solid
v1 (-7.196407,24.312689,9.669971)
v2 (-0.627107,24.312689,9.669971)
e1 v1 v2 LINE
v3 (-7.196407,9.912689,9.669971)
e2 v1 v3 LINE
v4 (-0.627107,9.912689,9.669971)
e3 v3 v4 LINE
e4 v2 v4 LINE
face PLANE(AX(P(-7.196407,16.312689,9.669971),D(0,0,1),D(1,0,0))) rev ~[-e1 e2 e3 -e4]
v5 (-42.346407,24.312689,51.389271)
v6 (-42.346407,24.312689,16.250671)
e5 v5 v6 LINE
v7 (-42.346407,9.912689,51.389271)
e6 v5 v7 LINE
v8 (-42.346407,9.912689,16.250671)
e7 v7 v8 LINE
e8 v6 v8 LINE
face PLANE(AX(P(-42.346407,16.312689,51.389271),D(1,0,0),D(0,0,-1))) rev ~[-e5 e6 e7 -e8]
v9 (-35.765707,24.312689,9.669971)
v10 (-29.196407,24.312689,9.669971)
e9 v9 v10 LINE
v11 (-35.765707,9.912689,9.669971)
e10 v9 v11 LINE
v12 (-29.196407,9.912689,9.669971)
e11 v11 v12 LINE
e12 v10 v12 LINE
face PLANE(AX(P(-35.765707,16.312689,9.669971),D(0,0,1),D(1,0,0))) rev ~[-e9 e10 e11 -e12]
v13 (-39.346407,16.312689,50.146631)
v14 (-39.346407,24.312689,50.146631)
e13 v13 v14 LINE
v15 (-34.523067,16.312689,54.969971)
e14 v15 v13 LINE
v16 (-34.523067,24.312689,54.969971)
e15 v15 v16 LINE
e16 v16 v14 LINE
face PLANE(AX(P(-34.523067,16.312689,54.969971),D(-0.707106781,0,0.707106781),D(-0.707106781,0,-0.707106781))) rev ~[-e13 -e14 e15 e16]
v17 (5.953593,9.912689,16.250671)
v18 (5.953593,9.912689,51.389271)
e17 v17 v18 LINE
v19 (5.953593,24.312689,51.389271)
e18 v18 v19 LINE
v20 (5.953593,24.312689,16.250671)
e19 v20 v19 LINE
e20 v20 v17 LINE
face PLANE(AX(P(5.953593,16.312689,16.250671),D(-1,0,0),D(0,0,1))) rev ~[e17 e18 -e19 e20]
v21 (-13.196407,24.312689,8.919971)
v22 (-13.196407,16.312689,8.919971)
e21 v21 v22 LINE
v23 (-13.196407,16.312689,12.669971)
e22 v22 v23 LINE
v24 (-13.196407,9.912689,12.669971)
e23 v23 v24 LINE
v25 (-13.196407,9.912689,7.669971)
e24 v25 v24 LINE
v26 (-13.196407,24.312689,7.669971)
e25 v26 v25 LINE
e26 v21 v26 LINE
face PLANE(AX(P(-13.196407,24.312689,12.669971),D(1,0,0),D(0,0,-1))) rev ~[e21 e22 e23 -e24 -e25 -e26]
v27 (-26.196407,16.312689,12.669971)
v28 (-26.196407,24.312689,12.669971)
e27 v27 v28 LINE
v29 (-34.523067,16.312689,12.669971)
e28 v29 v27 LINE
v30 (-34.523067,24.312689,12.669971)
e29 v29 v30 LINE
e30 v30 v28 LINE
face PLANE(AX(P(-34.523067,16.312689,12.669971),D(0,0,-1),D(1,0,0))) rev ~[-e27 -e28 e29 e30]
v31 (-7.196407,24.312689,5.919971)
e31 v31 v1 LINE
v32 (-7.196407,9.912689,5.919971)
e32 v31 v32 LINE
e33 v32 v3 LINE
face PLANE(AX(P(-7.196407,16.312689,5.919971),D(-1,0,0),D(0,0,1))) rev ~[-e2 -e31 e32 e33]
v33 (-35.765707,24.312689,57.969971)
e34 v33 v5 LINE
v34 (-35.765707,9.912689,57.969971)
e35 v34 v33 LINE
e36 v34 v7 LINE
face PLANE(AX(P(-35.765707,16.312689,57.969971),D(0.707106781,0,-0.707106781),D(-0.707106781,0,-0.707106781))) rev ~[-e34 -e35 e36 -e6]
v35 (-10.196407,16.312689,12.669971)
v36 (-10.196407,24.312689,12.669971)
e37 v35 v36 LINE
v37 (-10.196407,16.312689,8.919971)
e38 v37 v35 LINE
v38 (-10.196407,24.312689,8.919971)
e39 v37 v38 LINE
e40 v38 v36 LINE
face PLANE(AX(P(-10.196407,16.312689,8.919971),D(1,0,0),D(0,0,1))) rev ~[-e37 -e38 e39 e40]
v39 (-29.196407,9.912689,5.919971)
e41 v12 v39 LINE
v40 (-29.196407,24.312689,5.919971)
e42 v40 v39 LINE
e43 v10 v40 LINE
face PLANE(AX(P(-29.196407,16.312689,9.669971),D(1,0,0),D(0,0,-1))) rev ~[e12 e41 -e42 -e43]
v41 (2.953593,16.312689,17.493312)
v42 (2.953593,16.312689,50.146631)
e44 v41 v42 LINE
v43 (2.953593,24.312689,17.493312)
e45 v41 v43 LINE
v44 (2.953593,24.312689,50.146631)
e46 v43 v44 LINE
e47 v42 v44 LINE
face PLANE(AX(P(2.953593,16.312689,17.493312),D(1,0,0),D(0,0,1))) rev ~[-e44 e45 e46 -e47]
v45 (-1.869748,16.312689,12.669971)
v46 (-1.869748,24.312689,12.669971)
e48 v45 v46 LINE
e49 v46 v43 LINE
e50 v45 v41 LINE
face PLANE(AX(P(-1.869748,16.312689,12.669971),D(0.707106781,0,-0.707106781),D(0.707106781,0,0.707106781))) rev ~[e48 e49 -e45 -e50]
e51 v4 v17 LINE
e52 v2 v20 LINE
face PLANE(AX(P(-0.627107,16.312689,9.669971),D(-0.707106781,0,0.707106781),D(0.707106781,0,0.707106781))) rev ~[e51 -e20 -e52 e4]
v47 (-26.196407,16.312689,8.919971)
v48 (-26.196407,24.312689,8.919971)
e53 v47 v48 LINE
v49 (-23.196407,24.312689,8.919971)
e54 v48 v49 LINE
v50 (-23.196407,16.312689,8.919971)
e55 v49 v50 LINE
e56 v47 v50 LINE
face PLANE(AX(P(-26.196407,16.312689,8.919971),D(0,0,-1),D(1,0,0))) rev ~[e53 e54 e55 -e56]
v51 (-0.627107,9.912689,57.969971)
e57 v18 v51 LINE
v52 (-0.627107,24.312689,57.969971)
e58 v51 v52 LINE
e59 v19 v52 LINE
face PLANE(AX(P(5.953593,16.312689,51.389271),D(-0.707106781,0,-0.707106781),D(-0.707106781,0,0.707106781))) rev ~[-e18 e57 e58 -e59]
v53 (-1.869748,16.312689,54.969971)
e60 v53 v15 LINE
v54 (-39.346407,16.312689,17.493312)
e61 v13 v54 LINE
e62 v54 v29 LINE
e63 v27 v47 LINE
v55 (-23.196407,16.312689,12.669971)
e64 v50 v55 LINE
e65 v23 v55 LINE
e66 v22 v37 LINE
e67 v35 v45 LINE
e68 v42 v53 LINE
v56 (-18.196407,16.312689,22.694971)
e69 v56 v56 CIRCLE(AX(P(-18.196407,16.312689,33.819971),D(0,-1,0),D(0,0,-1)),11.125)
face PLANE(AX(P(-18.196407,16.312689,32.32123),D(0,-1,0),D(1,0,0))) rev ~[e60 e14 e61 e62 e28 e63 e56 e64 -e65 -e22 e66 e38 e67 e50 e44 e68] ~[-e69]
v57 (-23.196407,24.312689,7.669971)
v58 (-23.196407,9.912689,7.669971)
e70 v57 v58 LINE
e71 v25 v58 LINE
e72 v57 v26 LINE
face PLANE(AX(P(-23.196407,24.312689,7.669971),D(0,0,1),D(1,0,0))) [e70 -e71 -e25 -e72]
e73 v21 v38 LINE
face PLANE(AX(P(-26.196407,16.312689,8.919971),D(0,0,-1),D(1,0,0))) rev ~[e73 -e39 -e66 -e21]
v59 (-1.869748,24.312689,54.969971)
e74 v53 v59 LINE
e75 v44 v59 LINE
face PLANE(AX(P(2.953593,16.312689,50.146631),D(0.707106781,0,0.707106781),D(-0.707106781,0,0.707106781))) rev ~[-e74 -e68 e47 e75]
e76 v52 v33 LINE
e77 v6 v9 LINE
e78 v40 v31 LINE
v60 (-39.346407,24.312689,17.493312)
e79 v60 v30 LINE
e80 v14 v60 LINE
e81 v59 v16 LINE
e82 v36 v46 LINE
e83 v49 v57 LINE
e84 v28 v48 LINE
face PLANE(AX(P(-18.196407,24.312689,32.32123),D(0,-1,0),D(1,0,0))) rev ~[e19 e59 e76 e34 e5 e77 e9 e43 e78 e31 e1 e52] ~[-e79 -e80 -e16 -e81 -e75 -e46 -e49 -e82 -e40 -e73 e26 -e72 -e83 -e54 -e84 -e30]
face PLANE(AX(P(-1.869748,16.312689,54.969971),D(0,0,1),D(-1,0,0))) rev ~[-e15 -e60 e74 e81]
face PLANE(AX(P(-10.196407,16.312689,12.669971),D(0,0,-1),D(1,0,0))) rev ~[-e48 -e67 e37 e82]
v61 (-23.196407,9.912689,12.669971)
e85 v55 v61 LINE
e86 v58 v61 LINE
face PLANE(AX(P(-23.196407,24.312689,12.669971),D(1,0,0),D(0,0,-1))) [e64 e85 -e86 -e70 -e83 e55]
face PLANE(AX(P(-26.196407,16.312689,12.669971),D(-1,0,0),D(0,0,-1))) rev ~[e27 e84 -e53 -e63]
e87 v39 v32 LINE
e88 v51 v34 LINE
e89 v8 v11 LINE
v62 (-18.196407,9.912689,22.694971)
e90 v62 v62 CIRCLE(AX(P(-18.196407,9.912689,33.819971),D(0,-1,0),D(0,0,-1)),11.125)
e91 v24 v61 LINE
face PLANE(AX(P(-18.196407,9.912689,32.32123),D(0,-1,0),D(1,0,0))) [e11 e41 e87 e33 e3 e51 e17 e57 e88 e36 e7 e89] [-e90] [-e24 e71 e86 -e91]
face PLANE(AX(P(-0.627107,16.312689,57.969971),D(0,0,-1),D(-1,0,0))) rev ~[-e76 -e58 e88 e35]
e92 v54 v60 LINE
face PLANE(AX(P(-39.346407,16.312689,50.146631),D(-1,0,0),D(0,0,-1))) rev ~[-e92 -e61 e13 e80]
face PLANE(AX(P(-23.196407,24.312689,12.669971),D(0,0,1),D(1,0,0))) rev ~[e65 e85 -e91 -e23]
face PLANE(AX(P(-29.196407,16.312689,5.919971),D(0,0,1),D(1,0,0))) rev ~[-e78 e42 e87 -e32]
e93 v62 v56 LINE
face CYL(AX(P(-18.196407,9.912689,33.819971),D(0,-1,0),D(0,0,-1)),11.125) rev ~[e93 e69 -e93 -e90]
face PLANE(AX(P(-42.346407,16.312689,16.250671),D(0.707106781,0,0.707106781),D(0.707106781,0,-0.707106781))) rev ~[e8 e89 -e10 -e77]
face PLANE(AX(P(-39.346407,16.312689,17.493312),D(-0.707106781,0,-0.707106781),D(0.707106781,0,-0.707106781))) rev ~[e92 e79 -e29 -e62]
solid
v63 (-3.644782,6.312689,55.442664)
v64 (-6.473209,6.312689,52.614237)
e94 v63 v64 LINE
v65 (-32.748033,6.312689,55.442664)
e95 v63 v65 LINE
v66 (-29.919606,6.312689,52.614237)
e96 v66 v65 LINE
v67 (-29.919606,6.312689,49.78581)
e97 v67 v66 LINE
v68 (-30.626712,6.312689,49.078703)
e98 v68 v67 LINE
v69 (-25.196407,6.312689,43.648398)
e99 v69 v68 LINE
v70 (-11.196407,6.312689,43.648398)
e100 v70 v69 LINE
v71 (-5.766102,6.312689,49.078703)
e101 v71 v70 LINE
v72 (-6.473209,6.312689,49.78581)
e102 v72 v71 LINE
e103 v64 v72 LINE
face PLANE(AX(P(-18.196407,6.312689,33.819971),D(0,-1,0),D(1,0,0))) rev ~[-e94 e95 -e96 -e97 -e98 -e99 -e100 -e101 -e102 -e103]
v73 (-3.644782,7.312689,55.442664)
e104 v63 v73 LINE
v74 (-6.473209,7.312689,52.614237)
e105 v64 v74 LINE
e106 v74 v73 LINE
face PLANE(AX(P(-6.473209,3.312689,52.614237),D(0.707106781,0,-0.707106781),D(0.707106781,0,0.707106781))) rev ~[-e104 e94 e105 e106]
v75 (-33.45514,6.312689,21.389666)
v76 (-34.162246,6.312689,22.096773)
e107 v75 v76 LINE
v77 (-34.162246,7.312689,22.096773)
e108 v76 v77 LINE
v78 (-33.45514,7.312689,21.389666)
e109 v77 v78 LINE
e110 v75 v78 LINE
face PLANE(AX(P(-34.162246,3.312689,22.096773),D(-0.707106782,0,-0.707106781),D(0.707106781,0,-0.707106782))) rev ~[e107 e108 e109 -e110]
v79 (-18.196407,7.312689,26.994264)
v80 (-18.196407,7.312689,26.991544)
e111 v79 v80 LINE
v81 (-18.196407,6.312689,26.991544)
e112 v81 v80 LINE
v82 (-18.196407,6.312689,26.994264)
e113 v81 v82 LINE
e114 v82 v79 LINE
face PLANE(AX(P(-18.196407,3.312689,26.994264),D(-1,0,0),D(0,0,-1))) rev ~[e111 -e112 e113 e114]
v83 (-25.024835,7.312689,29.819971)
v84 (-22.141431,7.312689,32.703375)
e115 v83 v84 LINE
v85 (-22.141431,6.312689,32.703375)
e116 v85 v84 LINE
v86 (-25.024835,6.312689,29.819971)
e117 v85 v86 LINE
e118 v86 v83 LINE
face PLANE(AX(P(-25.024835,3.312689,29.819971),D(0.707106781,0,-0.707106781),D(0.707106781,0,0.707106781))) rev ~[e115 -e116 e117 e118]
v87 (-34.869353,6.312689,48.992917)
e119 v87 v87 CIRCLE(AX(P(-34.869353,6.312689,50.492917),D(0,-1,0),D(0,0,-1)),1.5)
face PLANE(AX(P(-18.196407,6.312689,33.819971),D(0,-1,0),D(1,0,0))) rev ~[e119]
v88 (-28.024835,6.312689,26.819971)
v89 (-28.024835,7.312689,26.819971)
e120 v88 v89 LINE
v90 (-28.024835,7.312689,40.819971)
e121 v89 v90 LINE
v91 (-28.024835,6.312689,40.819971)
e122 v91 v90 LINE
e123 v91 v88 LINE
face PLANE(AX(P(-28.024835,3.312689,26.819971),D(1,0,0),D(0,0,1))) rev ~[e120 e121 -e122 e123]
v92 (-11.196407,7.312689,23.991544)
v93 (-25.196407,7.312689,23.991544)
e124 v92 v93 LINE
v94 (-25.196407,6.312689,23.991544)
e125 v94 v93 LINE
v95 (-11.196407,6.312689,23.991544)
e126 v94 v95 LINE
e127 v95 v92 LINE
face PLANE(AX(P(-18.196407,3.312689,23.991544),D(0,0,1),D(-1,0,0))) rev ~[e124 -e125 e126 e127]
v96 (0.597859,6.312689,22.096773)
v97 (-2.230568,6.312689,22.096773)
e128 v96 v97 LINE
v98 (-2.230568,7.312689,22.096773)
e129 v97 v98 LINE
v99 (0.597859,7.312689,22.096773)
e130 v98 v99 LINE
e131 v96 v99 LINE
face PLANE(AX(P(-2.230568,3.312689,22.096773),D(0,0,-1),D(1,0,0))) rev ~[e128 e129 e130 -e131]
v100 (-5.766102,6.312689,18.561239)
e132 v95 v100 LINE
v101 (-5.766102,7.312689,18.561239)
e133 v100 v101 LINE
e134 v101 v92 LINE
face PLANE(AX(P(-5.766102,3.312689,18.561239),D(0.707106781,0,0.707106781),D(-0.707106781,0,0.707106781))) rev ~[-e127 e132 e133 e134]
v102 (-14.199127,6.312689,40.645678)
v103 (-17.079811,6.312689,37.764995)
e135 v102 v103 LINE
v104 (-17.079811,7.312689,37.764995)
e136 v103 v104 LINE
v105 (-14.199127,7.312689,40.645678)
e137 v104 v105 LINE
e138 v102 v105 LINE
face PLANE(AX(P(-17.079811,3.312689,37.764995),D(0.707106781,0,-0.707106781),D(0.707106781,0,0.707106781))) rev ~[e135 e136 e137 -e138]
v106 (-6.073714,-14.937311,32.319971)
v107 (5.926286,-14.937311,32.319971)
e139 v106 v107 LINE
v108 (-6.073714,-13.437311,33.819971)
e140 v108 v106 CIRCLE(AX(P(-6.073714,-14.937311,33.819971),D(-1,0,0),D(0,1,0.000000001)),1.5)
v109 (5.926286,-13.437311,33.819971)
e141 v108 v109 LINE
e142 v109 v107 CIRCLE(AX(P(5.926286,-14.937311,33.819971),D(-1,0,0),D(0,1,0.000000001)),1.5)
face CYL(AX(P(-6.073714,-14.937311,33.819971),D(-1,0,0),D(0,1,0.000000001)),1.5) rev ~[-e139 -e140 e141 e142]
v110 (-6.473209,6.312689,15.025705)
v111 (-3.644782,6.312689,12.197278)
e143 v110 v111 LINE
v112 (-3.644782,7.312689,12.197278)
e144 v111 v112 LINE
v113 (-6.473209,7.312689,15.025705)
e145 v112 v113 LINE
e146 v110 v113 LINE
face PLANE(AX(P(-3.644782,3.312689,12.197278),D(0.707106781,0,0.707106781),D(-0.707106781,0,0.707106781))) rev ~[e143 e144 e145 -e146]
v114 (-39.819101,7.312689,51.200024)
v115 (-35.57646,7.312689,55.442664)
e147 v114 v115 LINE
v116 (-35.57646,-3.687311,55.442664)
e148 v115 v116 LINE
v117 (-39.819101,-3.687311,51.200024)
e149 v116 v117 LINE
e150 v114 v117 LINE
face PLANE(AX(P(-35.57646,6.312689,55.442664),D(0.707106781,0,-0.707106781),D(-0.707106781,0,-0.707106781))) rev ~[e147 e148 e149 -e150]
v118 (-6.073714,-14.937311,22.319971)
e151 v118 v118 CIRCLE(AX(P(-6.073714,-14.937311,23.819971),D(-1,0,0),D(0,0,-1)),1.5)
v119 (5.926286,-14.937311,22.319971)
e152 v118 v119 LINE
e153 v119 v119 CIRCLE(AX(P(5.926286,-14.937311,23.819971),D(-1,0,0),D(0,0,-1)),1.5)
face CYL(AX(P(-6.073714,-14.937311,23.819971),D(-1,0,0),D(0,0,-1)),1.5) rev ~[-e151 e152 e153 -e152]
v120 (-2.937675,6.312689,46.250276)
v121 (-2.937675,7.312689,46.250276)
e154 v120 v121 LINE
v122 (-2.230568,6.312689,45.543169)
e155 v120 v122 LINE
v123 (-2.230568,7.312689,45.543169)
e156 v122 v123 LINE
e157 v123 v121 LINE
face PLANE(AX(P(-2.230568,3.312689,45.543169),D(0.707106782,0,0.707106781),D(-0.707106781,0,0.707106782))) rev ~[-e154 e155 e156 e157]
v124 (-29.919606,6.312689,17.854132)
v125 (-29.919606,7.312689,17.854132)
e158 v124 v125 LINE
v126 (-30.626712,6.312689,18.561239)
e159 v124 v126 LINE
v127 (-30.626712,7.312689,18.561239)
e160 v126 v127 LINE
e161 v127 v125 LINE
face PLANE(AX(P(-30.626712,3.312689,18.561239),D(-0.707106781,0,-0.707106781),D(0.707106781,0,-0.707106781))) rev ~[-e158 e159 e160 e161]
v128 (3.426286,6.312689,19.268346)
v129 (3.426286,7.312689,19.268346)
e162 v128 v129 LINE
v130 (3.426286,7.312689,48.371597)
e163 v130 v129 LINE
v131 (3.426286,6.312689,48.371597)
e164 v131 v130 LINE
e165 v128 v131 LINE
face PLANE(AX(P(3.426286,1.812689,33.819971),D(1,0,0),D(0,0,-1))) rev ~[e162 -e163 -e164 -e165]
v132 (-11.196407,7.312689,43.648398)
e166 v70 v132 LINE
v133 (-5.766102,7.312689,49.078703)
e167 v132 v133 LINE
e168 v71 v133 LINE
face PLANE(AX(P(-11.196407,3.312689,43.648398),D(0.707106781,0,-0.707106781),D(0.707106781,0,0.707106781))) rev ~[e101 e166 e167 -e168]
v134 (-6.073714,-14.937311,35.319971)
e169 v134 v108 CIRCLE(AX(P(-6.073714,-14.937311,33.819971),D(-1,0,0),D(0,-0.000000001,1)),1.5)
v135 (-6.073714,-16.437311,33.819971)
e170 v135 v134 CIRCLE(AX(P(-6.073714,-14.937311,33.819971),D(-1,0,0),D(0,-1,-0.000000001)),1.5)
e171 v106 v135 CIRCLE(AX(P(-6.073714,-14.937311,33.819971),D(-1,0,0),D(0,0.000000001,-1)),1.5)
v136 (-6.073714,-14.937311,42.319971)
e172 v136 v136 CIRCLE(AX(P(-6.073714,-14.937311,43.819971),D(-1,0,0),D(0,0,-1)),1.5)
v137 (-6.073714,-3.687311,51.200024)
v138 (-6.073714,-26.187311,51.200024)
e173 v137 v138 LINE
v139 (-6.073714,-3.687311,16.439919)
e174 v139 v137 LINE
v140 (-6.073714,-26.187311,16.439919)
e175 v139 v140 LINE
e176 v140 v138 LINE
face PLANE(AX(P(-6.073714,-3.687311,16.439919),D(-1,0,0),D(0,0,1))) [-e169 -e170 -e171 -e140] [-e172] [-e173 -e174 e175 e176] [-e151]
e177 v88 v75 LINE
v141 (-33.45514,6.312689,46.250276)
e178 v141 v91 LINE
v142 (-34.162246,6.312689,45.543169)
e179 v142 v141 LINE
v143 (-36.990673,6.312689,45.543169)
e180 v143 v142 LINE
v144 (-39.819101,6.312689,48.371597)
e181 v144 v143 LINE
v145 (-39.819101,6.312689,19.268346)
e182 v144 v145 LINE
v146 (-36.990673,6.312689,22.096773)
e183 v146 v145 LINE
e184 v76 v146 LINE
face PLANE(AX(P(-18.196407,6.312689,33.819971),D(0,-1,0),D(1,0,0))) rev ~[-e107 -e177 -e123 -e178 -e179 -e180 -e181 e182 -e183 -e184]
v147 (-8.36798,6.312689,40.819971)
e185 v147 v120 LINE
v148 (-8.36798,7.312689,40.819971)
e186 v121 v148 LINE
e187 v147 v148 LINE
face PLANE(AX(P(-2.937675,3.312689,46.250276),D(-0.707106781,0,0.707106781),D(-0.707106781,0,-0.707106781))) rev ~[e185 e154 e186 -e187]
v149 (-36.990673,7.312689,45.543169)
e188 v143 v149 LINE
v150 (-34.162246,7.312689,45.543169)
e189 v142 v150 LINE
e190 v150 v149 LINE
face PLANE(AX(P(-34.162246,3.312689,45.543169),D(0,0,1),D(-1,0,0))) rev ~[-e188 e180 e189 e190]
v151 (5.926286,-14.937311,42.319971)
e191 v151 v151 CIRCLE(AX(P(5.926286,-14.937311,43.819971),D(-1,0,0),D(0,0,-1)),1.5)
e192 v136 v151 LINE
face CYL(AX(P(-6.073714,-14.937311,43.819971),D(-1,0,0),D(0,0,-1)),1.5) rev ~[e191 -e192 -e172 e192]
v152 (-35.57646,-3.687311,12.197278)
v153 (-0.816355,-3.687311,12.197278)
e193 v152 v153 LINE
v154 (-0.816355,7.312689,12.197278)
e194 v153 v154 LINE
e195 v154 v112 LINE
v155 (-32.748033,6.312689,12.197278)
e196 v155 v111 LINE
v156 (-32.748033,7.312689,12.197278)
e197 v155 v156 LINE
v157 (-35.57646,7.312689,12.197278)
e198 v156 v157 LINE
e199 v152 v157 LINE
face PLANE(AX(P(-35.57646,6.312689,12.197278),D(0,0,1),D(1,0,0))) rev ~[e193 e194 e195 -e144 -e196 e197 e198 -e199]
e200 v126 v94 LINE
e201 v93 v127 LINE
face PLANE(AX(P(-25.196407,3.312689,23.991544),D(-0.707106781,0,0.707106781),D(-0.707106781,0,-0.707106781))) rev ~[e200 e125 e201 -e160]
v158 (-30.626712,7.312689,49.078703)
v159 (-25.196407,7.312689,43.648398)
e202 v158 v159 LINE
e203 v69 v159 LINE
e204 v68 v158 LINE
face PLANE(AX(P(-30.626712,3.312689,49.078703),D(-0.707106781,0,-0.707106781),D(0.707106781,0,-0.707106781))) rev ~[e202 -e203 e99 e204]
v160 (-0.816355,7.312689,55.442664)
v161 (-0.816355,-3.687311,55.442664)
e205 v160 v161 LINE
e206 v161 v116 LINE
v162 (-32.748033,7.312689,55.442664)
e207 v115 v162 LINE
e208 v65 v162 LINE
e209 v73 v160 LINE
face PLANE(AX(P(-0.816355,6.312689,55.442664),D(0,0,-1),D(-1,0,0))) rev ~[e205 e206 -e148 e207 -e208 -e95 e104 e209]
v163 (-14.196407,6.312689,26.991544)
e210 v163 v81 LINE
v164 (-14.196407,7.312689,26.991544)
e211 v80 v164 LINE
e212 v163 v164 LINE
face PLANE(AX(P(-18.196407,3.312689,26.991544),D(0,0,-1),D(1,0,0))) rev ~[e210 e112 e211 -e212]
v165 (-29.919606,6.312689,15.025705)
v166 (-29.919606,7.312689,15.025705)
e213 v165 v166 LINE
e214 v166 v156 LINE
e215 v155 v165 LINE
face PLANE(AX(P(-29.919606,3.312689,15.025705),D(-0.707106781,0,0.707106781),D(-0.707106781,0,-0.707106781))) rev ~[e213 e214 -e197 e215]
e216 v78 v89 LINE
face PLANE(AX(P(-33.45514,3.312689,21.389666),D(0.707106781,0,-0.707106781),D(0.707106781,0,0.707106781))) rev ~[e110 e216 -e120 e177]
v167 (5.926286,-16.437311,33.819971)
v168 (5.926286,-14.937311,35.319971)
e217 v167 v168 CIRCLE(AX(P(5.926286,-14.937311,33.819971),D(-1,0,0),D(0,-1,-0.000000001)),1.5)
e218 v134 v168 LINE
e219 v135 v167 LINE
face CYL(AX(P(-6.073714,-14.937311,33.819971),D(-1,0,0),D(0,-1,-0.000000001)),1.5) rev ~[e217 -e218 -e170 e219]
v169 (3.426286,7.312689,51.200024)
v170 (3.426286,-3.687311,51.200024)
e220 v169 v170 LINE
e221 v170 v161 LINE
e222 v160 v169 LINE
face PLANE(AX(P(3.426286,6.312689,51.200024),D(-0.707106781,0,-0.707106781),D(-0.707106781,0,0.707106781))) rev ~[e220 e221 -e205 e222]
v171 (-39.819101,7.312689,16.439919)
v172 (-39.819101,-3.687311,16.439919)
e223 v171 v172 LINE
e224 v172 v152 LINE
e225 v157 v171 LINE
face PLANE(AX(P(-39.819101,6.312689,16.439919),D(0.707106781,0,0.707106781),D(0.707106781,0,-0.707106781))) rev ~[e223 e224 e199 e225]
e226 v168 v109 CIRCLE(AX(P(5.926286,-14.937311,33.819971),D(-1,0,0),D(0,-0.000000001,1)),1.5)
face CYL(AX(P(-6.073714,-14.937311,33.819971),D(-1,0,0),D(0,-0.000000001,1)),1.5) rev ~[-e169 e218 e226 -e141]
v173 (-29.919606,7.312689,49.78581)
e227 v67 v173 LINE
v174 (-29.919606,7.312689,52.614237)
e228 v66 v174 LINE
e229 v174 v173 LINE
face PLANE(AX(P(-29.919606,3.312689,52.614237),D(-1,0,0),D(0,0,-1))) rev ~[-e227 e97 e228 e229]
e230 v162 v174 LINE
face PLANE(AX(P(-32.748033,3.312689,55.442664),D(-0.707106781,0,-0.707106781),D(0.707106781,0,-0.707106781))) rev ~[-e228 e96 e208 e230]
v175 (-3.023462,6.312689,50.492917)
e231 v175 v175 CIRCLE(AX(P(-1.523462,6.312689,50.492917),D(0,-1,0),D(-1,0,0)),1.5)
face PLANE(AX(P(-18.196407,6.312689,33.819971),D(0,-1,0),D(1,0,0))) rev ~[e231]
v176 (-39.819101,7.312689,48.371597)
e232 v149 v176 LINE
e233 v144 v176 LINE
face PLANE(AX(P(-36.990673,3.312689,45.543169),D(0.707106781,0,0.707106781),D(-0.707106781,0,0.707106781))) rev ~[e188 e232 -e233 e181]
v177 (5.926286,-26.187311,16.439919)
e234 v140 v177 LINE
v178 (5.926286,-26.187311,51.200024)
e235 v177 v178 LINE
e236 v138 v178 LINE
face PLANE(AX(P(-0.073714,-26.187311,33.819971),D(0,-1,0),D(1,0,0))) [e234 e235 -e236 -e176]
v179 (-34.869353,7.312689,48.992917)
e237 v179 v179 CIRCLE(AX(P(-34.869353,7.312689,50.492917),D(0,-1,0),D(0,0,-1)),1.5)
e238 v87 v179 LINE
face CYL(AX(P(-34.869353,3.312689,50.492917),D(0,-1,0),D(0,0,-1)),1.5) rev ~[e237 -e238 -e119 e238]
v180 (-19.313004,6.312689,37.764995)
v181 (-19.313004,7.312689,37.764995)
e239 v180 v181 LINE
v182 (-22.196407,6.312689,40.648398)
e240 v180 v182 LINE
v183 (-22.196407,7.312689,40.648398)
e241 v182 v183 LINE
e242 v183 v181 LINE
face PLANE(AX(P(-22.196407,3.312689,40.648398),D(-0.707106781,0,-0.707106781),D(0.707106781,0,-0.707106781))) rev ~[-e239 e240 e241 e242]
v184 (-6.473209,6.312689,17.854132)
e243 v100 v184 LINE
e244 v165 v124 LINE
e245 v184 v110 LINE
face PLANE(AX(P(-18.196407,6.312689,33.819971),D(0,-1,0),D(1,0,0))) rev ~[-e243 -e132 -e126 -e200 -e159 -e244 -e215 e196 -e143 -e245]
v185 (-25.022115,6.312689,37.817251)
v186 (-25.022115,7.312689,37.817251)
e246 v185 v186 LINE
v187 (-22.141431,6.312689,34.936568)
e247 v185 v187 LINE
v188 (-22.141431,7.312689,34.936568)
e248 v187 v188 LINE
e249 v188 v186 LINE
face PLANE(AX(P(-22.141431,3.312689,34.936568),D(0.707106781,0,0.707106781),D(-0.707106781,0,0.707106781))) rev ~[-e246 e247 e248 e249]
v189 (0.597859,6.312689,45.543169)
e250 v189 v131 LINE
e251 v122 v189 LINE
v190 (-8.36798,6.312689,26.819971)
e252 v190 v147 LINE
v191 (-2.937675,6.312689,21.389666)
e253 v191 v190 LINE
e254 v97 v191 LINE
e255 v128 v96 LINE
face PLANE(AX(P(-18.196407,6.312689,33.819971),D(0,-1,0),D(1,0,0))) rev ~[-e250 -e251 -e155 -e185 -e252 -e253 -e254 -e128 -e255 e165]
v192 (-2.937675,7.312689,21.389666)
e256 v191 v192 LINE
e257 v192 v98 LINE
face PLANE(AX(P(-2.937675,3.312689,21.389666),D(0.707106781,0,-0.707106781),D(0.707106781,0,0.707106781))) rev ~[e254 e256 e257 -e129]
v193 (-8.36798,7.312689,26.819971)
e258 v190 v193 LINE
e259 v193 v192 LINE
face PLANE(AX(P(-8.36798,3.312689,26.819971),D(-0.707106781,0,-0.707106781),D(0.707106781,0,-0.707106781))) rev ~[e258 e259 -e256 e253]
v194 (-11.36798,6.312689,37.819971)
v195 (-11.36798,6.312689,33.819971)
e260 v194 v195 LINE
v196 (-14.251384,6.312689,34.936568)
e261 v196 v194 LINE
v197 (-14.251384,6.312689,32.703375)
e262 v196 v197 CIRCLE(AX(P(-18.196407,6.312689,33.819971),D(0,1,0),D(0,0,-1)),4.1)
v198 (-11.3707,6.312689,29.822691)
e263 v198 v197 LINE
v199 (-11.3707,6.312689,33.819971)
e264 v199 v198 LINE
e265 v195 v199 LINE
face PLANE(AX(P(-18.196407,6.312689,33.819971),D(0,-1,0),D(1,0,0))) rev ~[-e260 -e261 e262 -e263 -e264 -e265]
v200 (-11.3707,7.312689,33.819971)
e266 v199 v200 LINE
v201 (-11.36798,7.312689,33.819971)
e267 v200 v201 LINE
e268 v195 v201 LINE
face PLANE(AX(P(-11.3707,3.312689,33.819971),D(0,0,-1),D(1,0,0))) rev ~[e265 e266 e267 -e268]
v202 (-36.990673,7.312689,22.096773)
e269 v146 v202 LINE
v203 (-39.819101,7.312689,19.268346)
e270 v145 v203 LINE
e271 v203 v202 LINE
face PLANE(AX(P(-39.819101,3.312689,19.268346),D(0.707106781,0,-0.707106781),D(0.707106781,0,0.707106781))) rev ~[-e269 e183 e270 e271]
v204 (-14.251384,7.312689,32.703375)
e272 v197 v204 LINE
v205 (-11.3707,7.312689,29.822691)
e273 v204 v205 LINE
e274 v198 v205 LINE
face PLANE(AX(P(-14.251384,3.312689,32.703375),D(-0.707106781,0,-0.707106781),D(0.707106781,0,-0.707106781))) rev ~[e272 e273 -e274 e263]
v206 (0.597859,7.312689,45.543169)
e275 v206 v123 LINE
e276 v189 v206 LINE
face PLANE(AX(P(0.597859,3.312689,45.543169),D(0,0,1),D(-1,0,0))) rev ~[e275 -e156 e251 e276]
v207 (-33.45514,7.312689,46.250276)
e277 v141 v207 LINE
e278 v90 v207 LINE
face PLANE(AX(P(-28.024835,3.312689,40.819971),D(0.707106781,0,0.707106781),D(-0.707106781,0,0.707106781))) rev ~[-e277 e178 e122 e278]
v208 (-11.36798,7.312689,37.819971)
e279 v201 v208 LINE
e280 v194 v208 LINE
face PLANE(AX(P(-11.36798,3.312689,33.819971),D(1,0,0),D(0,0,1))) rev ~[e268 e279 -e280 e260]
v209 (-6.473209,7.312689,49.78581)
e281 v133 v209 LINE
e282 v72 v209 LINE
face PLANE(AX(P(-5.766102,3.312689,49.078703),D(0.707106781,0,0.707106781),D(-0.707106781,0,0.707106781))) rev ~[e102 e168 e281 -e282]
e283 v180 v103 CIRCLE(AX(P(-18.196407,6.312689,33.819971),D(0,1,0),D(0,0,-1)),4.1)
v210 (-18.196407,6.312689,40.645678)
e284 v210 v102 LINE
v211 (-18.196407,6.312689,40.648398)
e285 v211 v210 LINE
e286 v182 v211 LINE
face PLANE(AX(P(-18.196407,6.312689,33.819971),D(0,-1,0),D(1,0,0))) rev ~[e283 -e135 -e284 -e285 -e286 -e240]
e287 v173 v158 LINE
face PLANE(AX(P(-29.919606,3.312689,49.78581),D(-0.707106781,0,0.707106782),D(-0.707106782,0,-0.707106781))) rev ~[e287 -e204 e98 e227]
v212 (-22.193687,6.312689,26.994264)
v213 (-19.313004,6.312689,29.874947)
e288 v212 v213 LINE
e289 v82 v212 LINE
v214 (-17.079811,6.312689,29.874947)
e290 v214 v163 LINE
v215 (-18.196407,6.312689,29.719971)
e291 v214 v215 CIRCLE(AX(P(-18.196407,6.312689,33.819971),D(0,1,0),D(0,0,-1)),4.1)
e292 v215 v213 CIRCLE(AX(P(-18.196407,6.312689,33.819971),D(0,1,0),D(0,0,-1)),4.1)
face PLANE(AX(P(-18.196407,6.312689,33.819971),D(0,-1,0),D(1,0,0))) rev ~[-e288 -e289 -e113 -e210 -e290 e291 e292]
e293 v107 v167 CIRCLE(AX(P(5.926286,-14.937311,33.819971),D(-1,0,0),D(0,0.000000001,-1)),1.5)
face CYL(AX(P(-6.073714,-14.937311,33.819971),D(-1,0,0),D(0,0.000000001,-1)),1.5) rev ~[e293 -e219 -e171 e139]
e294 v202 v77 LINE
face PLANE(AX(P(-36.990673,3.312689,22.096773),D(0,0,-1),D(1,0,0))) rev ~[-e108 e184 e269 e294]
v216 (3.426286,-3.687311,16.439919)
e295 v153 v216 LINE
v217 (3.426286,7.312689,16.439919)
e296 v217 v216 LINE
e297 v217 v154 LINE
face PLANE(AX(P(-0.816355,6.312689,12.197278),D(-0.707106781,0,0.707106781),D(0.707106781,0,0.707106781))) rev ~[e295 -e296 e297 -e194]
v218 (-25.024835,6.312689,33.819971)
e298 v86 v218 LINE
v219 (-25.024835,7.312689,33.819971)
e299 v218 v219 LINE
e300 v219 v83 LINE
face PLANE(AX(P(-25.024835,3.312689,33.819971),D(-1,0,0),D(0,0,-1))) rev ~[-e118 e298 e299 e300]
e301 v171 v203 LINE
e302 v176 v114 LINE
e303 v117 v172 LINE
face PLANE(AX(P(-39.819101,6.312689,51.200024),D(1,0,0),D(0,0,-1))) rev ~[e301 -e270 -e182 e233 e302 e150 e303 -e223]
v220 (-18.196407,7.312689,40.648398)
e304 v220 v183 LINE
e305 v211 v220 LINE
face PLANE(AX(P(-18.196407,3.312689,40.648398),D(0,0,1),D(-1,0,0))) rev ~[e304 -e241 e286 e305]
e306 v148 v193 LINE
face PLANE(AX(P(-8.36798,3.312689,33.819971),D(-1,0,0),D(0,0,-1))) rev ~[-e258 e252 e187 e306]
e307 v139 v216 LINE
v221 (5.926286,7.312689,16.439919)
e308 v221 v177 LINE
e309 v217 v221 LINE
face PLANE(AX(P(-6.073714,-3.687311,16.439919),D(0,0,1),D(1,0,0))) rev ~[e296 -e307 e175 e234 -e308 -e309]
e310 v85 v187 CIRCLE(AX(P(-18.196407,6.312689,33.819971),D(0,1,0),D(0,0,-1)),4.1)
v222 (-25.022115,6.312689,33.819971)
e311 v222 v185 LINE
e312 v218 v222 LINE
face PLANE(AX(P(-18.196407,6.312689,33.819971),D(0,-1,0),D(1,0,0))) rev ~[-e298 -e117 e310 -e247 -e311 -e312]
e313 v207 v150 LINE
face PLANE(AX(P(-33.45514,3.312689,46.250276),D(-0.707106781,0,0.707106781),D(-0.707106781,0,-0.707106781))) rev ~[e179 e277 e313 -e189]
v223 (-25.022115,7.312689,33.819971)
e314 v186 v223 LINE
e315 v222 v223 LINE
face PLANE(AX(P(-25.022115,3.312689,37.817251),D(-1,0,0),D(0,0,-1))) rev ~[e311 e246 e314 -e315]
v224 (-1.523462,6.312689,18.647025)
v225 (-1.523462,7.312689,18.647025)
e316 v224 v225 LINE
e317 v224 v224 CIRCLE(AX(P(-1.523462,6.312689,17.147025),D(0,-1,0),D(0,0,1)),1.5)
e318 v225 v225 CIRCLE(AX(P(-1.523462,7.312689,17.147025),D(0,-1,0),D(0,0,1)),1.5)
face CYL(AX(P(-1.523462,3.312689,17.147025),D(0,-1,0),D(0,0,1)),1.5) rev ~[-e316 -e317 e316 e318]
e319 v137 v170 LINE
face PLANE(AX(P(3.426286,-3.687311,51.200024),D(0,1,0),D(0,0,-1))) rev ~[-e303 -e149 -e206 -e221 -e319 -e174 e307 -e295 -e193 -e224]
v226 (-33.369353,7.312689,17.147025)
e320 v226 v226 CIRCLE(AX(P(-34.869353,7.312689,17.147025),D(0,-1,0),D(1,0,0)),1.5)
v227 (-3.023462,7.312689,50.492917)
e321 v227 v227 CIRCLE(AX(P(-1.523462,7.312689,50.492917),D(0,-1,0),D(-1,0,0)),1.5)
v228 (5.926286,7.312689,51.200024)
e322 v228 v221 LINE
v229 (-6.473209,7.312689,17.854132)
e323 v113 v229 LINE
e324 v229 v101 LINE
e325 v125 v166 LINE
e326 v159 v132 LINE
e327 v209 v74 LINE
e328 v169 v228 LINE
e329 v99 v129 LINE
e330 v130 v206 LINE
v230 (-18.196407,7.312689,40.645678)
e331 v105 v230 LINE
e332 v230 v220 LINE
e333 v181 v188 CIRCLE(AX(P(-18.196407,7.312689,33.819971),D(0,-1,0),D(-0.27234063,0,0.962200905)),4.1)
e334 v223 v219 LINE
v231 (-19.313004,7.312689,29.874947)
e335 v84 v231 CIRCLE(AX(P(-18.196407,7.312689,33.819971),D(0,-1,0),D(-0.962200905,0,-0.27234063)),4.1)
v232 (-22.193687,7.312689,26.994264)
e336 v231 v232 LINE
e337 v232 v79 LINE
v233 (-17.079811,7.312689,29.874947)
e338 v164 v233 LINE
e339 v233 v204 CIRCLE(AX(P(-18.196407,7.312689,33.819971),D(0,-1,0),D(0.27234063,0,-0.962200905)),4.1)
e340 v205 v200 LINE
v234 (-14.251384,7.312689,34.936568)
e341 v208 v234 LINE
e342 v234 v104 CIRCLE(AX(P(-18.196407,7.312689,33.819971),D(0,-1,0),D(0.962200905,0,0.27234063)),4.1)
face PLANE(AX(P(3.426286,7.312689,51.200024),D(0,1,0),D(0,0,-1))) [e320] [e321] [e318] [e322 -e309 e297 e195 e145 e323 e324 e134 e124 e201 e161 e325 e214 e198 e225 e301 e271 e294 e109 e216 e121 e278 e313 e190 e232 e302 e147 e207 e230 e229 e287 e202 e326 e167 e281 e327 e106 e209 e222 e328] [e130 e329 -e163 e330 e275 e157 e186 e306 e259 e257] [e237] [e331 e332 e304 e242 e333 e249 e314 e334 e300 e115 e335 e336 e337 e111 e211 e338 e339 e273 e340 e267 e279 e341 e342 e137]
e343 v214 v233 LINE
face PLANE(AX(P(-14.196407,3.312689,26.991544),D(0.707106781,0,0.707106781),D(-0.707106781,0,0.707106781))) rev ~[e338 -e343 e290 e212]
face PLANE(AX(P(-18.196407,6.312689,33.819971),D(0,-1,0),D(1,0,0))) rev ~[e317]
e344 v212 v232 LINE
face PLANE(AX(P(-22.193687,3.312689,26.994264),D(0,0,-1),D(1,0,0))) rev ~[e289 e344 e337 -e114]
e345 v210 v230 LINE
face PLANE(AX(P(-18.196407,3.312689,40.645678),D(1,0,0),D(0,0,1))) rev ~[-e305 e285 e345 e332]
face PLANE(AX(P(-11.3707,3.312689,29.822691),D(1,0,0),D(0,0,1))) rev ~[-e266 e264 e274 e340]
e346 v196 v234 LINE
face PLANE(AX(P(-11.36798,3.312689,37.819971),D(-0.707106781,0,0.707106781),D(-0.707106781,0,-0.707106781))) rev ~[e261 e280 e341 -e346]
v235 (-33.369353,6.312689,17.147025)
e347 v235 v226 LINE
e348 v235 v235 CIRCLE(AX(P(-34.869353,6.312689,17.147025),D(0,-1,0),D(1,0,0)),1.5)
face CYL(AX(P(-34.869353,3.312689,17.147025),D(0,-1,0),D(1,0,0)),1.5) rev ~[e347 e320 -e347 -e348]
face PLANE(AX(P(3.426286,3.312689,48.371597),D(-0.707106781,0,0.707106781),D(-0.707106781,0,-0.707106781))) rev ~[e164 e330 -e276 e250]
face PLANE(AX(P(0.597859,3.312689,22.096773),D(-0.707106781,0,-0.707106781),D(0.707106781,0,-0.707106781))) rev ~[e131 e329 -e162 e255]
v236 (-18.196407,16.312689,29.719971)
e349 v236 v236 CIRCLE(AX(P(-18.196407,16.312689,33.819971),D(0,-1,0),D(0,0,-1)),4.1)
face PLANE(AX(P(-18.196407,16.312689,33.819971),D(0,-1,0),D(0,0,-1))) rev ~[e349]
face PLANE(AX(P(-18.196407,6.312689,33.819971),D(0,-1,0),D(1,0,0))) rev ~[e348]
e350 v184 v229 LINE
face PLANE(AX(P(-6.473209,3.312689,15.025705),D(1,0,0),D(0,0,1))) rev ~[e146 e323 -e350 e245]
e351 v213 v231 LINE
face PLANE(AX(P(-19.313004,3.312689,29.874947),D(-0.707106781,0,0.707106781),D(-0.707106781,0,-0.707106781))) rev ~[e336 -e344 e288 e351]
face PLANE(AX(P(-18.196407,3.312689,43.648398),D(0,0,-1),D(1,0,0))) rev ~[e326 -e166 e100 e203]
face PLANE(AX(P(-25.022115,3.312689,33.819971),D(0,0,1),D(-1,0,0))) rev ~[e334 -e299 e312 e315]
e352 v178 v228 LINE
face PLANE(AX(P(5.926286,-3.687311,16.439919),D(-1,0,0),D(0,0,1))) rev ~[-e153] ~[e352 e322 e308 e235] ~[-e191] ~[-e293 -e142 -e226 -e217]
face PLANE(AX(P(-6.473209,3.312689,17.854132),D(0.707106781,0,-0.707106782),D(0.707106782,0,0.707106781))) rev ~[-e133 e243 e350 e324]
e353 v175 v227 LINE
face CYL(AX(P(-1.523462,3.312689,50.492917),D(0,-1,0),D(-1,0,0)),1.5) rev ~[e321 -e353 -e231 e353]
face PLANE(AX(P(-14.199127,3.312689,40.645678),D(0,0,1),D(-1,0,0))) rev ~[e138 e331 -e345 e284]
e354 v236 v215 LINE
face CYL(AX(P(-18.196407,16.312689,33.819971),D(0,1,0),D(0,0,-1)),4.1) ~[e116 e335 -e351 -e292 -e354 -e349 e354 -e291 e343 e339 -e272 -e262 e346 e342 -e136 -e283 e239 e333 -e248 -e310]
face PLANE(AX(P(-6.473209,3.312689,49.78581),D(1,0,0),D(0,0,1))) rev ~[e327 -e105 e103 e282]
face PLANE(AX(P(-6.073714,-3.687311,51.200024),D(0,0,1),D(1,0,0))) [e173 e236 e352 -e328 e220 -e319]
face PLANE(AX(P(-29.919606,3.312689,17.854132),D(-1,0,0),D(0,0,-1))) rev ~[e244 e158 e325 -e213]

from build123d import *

# Parameters (mm, degrees)
BOSS_EXTRUDE1_DEPTH      = 8
BOSS_EXTRUDE2_DEPTH      = 6.4
SKETCH4_R                = 11.125
CUT_EXTRUDE1_DEPTH       = 13
SKETCH5_R                = 4.1
BOSS_EXTRUDE3_DEPTH      = 13
SKETCH6_R                = 1.5
BOSS_EXTRUDE4_DEPTH      = 4
CIRPATTERN2_COUNT        = 4
SKETCH8_W                = 10
SKETCH8_H                = 5
CUT_EXTRUDE2_DEPTH       = 19
BOSS_EXTRUDE5_DEPTH      = 7
BOSS_EXTRUDE5_DEPTH_BACK = 3
SKETCH10_W               = 34.760105104
SKETCH10_H               = 11
BOSS_EXTRUDE6_DEPTH      = 2.5
SKETCH11_W               = 12
SKETCH11_H               = 34.760105104
BOSS_EXTRUDE7_DEPTH      = 22.5
CUT_EXTRUDE3_DEPTH       = 22.5


with BuildPart() as part:
    # Sketch1 → Boss-Extrude1 (new body)
    with BuildSketch(Plane.XZ.offset(-16.312689454)):
        Polygon((-42.346407377, 51.389271206), (-42.346407377, 16.250671026), (-35.765707467, 9.669971116), (-29.196407377, 9.669971116), (-29.196407377, 5.919971116), (-7.196407377, 5.919971116), (-7.196407377, 9.669971116), (-0.627107287, 9.669971116), (5.953592623, 16.250671026), (5.953592623, 51.389271206), (-0.627107287, 57.969971116), (-35.765707467, 57.969971116), align=None)
        Polygon((-10.196407377, 12.669971116), (-1.869747974, 12.669971116), (2.953592623, 17.493311713), (2.953592623, 50.146630519), (-1.869747974, 54.969971116), (-34.52306678, 54.969971116), (-39.346407377, 50.146630519), (-39.346407377, 17.493311713), (-34.52306678, 12.669971116), (-26.196407377, 12.669971116), (-26.196407377, 8.919971116), (-10.196407377, 8.919971116), align=None, mode=Mode.SUBTRACT)
    extrude(amount=-BOSS_EXTRUDE1_DEPTH)

    # Sketch3 → Boss-Extrude2 (add)
    with BuildSketch(Plane.XZ.offset(-16.312689454)):
        Polygon((-35.765707467, 57.969971116), (-42.346407377, 51.389271206), (-42.346407377, 16.250671026), (-35.765707467, 9.669971116), (-29.196407377, 9.669971116), (-29.196407377, 5.919971116), (-7.196407377, 5.919971116), (-7.196407377, 9.669971116), (-0.627107287, 9.669971116), (5.953592623, 16.250671026), (5.953592623, 51.389271206), (-0.627107287, 57.969971116), align=None)
    extrude(amount=BOSS_EXTRUDE2_DEPTH)

    # Sketch4 → Cut-Extrude1 (cut)
    with BuildSketch(Plane.XZ.offset(-9.912689454)):
        with Locations(Location((-18.196407377, 33.819971116, 0), (0, 0, 270))):
            Circle(SKETCH4_R)
    extrude(amount=-CUT_EXTRUDE1_DEPTH, mode=Mode.SUBTRACT)

    # Sketch8 → Cut-Extrude2 (cut)
    with BuildSketch(Plane(origin=(0, 24.312689454, 0), x_dir=(1, 0, 0), z_dir=(0, 1, 0))):
        with Locations((-18.196407377, -10.169971116)):
            Rectangle(SKETCH8_W, SKETCH8_H)
    extrude(amount=-CUT_EXTRUDE2_DEPTH, mode=Mode.SUBTRACT)


with BuildPart() as body_2:
    # Sketch5 → Boss-Extrude3 (new body)
    with BuildSketch(Plane.XZ.offset(-16.312689454)):
        with Locations(Location((-18.196407377, 33.819971116, 0), (0, 0, 270))):
            Circle(SKETCH5_R)
    extrude(amount=BOSS_EXTRUDE3_DEPTH)

    # Sketch6 → Boss-Extrude4 (add)
    with BuildSketch(Plane.XZ.offset(-3.312689454)):
        with BuildLine():
            Line((-22.141431086, 34.9365677), (-25.022114558, 37.817251172))
            Line((-25.022114558, 37.817251172), (-25.022114558, 33.819971116))
            Line((-25.022114558, 33.819971116), (-28.024834502, 33.819971116))
            Line((-28.024834502, 33.819971116), (-28.024834502, 40.819971116))
            Line((-28.024834502, 40.819971116), (-33.455139585, 46.250276199))
            Line((-33.455139585, 46.250276199), (-34.162246366, 45.543169418))
            Line((-34.162246366, 45.543169418), (-36.990673491, 45.543169418))
            Line((-36.990673491, 45.543169418), (-39.819100616, 48.371596543))
            Line((-39.819100616, 48.371596543), (-39.819100616, 51.200023668))
            Line((-39.819100616, 51.200023668), (-35.576459929, 55.442664355))
            Line((-35.576459929, 55.442664355), (-32.748032804, 55.442664355))
            Line((-32.748032804, 55.442664355), (-29.919605679, 52.61423723))
            Line((-29.919605679, 52.61423723), (-29.919605679, 49.785810105))
            Line((-29.919605679, 49.785810105), (-30.626712461, 49.078703324))
            Line((-30.626712461, 49.078703324), (-25.196407377, 43.648398241))
            Line((-25.196407377, 43.648398241), (-18.196407377, 43.648398241))
            Line((-18.196407377, 43.648398241), (-18.196407377, 40.648398241))
            Line((-18.196407377, 40.648398241), (-22.196407377, 40.648398241))
            Line((-22.196407377, 40.648398241), (-19.313003962, 37.764994825))
            ThreePointArc((-19.313003962, 37.764994825), (-21.09554518, 36.719108919), (-22.141431086, 34.9365677))
        make_face()
        with Locations(Location((-34.869353148, 50.492916887, 0), (0, 0, 270))):
            Circle(SKETCH6_R, mode=Mode.SUBTRACT)
    boss_extrude4 = extrude(amount=-BOSS_EXTRUDE4_DEPTH)

    # CirPattern2: Boss-Extrude4 ×4 about axis
    cirpattern2_axis = Axis((-18.196407377, 0, 33.819971116), (0, 1, 0))
    for i in range(1, CIRPATTERN2_COUNT):
        add(boss_extrude4.rotate(cirpattern2_axis, i * 360 / CIRPATTERN2_COUNT))

    # Sketch9 → Boss-Extrude5 (add, two sides: drawn at the far end of the back side and taken through both)
    with BuildSketch(Plane.XZ.offset(-3.312689454).offset(-BOSS_EXTRUDE5_DEPTH_BACK)):
        Polygon((-32.748032804, 12.197277877), (-3.64478195, 12.197277877), (-0.816354825, 12.197277877), (3.426285862, 16.439918564), (3.426285862, 19.268345689), (3.426285862, 48.371596543), (3.426285862, 51.200023668), (-0.816354825, 55.442664355), (-3.64478195, 55.442664355), (-32.748032804, 55.442664355), (-35.576459929, 55.442664355), (-39.819100616, 51.200023668), (-39.819100616, 48.371596543), (-39.819100616, 19.268345689), (-39.819100616, 16.439918564), (-35.576459929, 12.197277877), align=None)
    extrude(amount=BOSS_EXTRUDE5_DEPTH + BOSS_EXTRUDE5_DEPTH_BACK)

    # Sketch10 → Boss-Extrude6 (add)
    with BuildSketch(Plane(origin=(3.426285862, 0, 0), x_dir=(0, 0, -1), z_dir=(1, 0, 0))):
        with Locations((-33.819971116, 1.812689454)):
            Rectangle(SKETCH10_W, SKETCH10_H)
    extrude(amount=BOSS_EXTRUDE6_DEPTH)

    # Sketch11 → Boss-Extrude7 (add)
    with BuildSketch(Plane.XZ.offset(3.687310546)):
        with Locations((-0.073714138, 33.819971116)):
            Rectangle(SKETCH11_W, SKETCH11_H)
    extrude(amount=BOSS_EXTRUDE7_DEPTH)

    # Sketch12 → Cut-Extrude3 (cut)
    with BuildSketch(Plane.ZY.offset(6.073714138)):
        with BuildLine():
            ThreePointArc((33.819971116, -13.437310546), (32.759310944, -13.876650374), (32.319971116, -14.937310546))
            Line((32.319971116, -14.937310546), (33.819971116, -14.937310546))
            Line((33.819971116, -14.937310546), (33.819971116, -13.437310546))
        make_face()
        with BuildLine():
            Line((33.819971116, -14.937310546), (32.319971116, -14.937310546))
            ThreePointArc((32.319971116, -14.937310546), (32.759310944, -15.997970718), (33.819971116, -16.437310546))
            Line((33.819971116, -16.437310546), (33.819971116, -14.937310546))
        make_face()
        with BuildLine():
            Line((33.819971116, -13.437310546), (33.819971116, -14.937310546))
            Line((33.819971116, -14.937310546), (35.319971116, -14.937310546))
            ThreePointArc((35.319971116, -14.937310546), (34.880631288, -13.876650374), (33.819971116, -13.437310546))
        make_face()
        with BuildLine():
            Line((35.319971116, -14.937310546), (33.819971116, -14.937310546))
            Line((33.819971116, -14.937310546), (33.819971116, -16.437310546))
            ThreePointArc((33.819971116, -16.437310546), (34.880631288, -15.997970718), (35.319971116, -14.937310546))
        make_face()
        with BuildLine():
            ThreePointArc((45.319971116, -14.937310546), (43.819971116, -13.437310546), (42.319971116, -14.937310546))
            Line((42.319971116, -14.937310546), (45.319971116, -14.937310546))
        make_face()
        with BuildLine():
            Line((45.319971116, -14.937310546), (42.319971116, -14.937310546))
            ThreePointArc((42.319971116, -14.937310546), (43.819971116, -16.437310546), (45.319971116, -14.937310546))
        make_face()
        with BuildLine():
            ThreePointArc((25.319971116, -14.937310546), (23.819971116, -13.437310546), (22.319971116, -14.937310546))
            Line((22.319971116, -14.937310546), (25.319971116, -14.937310546))
        make_face()
        with BuildLine():
            Line((25.319971116, -14.937310546), (22.319971116, -14.937310546))
            ThreePointArc((22.319971116, -14.937310546), (23.819971116, -16.437310546), (25.319971116, -14.937310546))
        make_face()
    extrude(amount=-CUT_EXTRUDE3_DEPTH, mode=Mode.SUBTRACT)


solid = Compound([part.part, body_2.part])
